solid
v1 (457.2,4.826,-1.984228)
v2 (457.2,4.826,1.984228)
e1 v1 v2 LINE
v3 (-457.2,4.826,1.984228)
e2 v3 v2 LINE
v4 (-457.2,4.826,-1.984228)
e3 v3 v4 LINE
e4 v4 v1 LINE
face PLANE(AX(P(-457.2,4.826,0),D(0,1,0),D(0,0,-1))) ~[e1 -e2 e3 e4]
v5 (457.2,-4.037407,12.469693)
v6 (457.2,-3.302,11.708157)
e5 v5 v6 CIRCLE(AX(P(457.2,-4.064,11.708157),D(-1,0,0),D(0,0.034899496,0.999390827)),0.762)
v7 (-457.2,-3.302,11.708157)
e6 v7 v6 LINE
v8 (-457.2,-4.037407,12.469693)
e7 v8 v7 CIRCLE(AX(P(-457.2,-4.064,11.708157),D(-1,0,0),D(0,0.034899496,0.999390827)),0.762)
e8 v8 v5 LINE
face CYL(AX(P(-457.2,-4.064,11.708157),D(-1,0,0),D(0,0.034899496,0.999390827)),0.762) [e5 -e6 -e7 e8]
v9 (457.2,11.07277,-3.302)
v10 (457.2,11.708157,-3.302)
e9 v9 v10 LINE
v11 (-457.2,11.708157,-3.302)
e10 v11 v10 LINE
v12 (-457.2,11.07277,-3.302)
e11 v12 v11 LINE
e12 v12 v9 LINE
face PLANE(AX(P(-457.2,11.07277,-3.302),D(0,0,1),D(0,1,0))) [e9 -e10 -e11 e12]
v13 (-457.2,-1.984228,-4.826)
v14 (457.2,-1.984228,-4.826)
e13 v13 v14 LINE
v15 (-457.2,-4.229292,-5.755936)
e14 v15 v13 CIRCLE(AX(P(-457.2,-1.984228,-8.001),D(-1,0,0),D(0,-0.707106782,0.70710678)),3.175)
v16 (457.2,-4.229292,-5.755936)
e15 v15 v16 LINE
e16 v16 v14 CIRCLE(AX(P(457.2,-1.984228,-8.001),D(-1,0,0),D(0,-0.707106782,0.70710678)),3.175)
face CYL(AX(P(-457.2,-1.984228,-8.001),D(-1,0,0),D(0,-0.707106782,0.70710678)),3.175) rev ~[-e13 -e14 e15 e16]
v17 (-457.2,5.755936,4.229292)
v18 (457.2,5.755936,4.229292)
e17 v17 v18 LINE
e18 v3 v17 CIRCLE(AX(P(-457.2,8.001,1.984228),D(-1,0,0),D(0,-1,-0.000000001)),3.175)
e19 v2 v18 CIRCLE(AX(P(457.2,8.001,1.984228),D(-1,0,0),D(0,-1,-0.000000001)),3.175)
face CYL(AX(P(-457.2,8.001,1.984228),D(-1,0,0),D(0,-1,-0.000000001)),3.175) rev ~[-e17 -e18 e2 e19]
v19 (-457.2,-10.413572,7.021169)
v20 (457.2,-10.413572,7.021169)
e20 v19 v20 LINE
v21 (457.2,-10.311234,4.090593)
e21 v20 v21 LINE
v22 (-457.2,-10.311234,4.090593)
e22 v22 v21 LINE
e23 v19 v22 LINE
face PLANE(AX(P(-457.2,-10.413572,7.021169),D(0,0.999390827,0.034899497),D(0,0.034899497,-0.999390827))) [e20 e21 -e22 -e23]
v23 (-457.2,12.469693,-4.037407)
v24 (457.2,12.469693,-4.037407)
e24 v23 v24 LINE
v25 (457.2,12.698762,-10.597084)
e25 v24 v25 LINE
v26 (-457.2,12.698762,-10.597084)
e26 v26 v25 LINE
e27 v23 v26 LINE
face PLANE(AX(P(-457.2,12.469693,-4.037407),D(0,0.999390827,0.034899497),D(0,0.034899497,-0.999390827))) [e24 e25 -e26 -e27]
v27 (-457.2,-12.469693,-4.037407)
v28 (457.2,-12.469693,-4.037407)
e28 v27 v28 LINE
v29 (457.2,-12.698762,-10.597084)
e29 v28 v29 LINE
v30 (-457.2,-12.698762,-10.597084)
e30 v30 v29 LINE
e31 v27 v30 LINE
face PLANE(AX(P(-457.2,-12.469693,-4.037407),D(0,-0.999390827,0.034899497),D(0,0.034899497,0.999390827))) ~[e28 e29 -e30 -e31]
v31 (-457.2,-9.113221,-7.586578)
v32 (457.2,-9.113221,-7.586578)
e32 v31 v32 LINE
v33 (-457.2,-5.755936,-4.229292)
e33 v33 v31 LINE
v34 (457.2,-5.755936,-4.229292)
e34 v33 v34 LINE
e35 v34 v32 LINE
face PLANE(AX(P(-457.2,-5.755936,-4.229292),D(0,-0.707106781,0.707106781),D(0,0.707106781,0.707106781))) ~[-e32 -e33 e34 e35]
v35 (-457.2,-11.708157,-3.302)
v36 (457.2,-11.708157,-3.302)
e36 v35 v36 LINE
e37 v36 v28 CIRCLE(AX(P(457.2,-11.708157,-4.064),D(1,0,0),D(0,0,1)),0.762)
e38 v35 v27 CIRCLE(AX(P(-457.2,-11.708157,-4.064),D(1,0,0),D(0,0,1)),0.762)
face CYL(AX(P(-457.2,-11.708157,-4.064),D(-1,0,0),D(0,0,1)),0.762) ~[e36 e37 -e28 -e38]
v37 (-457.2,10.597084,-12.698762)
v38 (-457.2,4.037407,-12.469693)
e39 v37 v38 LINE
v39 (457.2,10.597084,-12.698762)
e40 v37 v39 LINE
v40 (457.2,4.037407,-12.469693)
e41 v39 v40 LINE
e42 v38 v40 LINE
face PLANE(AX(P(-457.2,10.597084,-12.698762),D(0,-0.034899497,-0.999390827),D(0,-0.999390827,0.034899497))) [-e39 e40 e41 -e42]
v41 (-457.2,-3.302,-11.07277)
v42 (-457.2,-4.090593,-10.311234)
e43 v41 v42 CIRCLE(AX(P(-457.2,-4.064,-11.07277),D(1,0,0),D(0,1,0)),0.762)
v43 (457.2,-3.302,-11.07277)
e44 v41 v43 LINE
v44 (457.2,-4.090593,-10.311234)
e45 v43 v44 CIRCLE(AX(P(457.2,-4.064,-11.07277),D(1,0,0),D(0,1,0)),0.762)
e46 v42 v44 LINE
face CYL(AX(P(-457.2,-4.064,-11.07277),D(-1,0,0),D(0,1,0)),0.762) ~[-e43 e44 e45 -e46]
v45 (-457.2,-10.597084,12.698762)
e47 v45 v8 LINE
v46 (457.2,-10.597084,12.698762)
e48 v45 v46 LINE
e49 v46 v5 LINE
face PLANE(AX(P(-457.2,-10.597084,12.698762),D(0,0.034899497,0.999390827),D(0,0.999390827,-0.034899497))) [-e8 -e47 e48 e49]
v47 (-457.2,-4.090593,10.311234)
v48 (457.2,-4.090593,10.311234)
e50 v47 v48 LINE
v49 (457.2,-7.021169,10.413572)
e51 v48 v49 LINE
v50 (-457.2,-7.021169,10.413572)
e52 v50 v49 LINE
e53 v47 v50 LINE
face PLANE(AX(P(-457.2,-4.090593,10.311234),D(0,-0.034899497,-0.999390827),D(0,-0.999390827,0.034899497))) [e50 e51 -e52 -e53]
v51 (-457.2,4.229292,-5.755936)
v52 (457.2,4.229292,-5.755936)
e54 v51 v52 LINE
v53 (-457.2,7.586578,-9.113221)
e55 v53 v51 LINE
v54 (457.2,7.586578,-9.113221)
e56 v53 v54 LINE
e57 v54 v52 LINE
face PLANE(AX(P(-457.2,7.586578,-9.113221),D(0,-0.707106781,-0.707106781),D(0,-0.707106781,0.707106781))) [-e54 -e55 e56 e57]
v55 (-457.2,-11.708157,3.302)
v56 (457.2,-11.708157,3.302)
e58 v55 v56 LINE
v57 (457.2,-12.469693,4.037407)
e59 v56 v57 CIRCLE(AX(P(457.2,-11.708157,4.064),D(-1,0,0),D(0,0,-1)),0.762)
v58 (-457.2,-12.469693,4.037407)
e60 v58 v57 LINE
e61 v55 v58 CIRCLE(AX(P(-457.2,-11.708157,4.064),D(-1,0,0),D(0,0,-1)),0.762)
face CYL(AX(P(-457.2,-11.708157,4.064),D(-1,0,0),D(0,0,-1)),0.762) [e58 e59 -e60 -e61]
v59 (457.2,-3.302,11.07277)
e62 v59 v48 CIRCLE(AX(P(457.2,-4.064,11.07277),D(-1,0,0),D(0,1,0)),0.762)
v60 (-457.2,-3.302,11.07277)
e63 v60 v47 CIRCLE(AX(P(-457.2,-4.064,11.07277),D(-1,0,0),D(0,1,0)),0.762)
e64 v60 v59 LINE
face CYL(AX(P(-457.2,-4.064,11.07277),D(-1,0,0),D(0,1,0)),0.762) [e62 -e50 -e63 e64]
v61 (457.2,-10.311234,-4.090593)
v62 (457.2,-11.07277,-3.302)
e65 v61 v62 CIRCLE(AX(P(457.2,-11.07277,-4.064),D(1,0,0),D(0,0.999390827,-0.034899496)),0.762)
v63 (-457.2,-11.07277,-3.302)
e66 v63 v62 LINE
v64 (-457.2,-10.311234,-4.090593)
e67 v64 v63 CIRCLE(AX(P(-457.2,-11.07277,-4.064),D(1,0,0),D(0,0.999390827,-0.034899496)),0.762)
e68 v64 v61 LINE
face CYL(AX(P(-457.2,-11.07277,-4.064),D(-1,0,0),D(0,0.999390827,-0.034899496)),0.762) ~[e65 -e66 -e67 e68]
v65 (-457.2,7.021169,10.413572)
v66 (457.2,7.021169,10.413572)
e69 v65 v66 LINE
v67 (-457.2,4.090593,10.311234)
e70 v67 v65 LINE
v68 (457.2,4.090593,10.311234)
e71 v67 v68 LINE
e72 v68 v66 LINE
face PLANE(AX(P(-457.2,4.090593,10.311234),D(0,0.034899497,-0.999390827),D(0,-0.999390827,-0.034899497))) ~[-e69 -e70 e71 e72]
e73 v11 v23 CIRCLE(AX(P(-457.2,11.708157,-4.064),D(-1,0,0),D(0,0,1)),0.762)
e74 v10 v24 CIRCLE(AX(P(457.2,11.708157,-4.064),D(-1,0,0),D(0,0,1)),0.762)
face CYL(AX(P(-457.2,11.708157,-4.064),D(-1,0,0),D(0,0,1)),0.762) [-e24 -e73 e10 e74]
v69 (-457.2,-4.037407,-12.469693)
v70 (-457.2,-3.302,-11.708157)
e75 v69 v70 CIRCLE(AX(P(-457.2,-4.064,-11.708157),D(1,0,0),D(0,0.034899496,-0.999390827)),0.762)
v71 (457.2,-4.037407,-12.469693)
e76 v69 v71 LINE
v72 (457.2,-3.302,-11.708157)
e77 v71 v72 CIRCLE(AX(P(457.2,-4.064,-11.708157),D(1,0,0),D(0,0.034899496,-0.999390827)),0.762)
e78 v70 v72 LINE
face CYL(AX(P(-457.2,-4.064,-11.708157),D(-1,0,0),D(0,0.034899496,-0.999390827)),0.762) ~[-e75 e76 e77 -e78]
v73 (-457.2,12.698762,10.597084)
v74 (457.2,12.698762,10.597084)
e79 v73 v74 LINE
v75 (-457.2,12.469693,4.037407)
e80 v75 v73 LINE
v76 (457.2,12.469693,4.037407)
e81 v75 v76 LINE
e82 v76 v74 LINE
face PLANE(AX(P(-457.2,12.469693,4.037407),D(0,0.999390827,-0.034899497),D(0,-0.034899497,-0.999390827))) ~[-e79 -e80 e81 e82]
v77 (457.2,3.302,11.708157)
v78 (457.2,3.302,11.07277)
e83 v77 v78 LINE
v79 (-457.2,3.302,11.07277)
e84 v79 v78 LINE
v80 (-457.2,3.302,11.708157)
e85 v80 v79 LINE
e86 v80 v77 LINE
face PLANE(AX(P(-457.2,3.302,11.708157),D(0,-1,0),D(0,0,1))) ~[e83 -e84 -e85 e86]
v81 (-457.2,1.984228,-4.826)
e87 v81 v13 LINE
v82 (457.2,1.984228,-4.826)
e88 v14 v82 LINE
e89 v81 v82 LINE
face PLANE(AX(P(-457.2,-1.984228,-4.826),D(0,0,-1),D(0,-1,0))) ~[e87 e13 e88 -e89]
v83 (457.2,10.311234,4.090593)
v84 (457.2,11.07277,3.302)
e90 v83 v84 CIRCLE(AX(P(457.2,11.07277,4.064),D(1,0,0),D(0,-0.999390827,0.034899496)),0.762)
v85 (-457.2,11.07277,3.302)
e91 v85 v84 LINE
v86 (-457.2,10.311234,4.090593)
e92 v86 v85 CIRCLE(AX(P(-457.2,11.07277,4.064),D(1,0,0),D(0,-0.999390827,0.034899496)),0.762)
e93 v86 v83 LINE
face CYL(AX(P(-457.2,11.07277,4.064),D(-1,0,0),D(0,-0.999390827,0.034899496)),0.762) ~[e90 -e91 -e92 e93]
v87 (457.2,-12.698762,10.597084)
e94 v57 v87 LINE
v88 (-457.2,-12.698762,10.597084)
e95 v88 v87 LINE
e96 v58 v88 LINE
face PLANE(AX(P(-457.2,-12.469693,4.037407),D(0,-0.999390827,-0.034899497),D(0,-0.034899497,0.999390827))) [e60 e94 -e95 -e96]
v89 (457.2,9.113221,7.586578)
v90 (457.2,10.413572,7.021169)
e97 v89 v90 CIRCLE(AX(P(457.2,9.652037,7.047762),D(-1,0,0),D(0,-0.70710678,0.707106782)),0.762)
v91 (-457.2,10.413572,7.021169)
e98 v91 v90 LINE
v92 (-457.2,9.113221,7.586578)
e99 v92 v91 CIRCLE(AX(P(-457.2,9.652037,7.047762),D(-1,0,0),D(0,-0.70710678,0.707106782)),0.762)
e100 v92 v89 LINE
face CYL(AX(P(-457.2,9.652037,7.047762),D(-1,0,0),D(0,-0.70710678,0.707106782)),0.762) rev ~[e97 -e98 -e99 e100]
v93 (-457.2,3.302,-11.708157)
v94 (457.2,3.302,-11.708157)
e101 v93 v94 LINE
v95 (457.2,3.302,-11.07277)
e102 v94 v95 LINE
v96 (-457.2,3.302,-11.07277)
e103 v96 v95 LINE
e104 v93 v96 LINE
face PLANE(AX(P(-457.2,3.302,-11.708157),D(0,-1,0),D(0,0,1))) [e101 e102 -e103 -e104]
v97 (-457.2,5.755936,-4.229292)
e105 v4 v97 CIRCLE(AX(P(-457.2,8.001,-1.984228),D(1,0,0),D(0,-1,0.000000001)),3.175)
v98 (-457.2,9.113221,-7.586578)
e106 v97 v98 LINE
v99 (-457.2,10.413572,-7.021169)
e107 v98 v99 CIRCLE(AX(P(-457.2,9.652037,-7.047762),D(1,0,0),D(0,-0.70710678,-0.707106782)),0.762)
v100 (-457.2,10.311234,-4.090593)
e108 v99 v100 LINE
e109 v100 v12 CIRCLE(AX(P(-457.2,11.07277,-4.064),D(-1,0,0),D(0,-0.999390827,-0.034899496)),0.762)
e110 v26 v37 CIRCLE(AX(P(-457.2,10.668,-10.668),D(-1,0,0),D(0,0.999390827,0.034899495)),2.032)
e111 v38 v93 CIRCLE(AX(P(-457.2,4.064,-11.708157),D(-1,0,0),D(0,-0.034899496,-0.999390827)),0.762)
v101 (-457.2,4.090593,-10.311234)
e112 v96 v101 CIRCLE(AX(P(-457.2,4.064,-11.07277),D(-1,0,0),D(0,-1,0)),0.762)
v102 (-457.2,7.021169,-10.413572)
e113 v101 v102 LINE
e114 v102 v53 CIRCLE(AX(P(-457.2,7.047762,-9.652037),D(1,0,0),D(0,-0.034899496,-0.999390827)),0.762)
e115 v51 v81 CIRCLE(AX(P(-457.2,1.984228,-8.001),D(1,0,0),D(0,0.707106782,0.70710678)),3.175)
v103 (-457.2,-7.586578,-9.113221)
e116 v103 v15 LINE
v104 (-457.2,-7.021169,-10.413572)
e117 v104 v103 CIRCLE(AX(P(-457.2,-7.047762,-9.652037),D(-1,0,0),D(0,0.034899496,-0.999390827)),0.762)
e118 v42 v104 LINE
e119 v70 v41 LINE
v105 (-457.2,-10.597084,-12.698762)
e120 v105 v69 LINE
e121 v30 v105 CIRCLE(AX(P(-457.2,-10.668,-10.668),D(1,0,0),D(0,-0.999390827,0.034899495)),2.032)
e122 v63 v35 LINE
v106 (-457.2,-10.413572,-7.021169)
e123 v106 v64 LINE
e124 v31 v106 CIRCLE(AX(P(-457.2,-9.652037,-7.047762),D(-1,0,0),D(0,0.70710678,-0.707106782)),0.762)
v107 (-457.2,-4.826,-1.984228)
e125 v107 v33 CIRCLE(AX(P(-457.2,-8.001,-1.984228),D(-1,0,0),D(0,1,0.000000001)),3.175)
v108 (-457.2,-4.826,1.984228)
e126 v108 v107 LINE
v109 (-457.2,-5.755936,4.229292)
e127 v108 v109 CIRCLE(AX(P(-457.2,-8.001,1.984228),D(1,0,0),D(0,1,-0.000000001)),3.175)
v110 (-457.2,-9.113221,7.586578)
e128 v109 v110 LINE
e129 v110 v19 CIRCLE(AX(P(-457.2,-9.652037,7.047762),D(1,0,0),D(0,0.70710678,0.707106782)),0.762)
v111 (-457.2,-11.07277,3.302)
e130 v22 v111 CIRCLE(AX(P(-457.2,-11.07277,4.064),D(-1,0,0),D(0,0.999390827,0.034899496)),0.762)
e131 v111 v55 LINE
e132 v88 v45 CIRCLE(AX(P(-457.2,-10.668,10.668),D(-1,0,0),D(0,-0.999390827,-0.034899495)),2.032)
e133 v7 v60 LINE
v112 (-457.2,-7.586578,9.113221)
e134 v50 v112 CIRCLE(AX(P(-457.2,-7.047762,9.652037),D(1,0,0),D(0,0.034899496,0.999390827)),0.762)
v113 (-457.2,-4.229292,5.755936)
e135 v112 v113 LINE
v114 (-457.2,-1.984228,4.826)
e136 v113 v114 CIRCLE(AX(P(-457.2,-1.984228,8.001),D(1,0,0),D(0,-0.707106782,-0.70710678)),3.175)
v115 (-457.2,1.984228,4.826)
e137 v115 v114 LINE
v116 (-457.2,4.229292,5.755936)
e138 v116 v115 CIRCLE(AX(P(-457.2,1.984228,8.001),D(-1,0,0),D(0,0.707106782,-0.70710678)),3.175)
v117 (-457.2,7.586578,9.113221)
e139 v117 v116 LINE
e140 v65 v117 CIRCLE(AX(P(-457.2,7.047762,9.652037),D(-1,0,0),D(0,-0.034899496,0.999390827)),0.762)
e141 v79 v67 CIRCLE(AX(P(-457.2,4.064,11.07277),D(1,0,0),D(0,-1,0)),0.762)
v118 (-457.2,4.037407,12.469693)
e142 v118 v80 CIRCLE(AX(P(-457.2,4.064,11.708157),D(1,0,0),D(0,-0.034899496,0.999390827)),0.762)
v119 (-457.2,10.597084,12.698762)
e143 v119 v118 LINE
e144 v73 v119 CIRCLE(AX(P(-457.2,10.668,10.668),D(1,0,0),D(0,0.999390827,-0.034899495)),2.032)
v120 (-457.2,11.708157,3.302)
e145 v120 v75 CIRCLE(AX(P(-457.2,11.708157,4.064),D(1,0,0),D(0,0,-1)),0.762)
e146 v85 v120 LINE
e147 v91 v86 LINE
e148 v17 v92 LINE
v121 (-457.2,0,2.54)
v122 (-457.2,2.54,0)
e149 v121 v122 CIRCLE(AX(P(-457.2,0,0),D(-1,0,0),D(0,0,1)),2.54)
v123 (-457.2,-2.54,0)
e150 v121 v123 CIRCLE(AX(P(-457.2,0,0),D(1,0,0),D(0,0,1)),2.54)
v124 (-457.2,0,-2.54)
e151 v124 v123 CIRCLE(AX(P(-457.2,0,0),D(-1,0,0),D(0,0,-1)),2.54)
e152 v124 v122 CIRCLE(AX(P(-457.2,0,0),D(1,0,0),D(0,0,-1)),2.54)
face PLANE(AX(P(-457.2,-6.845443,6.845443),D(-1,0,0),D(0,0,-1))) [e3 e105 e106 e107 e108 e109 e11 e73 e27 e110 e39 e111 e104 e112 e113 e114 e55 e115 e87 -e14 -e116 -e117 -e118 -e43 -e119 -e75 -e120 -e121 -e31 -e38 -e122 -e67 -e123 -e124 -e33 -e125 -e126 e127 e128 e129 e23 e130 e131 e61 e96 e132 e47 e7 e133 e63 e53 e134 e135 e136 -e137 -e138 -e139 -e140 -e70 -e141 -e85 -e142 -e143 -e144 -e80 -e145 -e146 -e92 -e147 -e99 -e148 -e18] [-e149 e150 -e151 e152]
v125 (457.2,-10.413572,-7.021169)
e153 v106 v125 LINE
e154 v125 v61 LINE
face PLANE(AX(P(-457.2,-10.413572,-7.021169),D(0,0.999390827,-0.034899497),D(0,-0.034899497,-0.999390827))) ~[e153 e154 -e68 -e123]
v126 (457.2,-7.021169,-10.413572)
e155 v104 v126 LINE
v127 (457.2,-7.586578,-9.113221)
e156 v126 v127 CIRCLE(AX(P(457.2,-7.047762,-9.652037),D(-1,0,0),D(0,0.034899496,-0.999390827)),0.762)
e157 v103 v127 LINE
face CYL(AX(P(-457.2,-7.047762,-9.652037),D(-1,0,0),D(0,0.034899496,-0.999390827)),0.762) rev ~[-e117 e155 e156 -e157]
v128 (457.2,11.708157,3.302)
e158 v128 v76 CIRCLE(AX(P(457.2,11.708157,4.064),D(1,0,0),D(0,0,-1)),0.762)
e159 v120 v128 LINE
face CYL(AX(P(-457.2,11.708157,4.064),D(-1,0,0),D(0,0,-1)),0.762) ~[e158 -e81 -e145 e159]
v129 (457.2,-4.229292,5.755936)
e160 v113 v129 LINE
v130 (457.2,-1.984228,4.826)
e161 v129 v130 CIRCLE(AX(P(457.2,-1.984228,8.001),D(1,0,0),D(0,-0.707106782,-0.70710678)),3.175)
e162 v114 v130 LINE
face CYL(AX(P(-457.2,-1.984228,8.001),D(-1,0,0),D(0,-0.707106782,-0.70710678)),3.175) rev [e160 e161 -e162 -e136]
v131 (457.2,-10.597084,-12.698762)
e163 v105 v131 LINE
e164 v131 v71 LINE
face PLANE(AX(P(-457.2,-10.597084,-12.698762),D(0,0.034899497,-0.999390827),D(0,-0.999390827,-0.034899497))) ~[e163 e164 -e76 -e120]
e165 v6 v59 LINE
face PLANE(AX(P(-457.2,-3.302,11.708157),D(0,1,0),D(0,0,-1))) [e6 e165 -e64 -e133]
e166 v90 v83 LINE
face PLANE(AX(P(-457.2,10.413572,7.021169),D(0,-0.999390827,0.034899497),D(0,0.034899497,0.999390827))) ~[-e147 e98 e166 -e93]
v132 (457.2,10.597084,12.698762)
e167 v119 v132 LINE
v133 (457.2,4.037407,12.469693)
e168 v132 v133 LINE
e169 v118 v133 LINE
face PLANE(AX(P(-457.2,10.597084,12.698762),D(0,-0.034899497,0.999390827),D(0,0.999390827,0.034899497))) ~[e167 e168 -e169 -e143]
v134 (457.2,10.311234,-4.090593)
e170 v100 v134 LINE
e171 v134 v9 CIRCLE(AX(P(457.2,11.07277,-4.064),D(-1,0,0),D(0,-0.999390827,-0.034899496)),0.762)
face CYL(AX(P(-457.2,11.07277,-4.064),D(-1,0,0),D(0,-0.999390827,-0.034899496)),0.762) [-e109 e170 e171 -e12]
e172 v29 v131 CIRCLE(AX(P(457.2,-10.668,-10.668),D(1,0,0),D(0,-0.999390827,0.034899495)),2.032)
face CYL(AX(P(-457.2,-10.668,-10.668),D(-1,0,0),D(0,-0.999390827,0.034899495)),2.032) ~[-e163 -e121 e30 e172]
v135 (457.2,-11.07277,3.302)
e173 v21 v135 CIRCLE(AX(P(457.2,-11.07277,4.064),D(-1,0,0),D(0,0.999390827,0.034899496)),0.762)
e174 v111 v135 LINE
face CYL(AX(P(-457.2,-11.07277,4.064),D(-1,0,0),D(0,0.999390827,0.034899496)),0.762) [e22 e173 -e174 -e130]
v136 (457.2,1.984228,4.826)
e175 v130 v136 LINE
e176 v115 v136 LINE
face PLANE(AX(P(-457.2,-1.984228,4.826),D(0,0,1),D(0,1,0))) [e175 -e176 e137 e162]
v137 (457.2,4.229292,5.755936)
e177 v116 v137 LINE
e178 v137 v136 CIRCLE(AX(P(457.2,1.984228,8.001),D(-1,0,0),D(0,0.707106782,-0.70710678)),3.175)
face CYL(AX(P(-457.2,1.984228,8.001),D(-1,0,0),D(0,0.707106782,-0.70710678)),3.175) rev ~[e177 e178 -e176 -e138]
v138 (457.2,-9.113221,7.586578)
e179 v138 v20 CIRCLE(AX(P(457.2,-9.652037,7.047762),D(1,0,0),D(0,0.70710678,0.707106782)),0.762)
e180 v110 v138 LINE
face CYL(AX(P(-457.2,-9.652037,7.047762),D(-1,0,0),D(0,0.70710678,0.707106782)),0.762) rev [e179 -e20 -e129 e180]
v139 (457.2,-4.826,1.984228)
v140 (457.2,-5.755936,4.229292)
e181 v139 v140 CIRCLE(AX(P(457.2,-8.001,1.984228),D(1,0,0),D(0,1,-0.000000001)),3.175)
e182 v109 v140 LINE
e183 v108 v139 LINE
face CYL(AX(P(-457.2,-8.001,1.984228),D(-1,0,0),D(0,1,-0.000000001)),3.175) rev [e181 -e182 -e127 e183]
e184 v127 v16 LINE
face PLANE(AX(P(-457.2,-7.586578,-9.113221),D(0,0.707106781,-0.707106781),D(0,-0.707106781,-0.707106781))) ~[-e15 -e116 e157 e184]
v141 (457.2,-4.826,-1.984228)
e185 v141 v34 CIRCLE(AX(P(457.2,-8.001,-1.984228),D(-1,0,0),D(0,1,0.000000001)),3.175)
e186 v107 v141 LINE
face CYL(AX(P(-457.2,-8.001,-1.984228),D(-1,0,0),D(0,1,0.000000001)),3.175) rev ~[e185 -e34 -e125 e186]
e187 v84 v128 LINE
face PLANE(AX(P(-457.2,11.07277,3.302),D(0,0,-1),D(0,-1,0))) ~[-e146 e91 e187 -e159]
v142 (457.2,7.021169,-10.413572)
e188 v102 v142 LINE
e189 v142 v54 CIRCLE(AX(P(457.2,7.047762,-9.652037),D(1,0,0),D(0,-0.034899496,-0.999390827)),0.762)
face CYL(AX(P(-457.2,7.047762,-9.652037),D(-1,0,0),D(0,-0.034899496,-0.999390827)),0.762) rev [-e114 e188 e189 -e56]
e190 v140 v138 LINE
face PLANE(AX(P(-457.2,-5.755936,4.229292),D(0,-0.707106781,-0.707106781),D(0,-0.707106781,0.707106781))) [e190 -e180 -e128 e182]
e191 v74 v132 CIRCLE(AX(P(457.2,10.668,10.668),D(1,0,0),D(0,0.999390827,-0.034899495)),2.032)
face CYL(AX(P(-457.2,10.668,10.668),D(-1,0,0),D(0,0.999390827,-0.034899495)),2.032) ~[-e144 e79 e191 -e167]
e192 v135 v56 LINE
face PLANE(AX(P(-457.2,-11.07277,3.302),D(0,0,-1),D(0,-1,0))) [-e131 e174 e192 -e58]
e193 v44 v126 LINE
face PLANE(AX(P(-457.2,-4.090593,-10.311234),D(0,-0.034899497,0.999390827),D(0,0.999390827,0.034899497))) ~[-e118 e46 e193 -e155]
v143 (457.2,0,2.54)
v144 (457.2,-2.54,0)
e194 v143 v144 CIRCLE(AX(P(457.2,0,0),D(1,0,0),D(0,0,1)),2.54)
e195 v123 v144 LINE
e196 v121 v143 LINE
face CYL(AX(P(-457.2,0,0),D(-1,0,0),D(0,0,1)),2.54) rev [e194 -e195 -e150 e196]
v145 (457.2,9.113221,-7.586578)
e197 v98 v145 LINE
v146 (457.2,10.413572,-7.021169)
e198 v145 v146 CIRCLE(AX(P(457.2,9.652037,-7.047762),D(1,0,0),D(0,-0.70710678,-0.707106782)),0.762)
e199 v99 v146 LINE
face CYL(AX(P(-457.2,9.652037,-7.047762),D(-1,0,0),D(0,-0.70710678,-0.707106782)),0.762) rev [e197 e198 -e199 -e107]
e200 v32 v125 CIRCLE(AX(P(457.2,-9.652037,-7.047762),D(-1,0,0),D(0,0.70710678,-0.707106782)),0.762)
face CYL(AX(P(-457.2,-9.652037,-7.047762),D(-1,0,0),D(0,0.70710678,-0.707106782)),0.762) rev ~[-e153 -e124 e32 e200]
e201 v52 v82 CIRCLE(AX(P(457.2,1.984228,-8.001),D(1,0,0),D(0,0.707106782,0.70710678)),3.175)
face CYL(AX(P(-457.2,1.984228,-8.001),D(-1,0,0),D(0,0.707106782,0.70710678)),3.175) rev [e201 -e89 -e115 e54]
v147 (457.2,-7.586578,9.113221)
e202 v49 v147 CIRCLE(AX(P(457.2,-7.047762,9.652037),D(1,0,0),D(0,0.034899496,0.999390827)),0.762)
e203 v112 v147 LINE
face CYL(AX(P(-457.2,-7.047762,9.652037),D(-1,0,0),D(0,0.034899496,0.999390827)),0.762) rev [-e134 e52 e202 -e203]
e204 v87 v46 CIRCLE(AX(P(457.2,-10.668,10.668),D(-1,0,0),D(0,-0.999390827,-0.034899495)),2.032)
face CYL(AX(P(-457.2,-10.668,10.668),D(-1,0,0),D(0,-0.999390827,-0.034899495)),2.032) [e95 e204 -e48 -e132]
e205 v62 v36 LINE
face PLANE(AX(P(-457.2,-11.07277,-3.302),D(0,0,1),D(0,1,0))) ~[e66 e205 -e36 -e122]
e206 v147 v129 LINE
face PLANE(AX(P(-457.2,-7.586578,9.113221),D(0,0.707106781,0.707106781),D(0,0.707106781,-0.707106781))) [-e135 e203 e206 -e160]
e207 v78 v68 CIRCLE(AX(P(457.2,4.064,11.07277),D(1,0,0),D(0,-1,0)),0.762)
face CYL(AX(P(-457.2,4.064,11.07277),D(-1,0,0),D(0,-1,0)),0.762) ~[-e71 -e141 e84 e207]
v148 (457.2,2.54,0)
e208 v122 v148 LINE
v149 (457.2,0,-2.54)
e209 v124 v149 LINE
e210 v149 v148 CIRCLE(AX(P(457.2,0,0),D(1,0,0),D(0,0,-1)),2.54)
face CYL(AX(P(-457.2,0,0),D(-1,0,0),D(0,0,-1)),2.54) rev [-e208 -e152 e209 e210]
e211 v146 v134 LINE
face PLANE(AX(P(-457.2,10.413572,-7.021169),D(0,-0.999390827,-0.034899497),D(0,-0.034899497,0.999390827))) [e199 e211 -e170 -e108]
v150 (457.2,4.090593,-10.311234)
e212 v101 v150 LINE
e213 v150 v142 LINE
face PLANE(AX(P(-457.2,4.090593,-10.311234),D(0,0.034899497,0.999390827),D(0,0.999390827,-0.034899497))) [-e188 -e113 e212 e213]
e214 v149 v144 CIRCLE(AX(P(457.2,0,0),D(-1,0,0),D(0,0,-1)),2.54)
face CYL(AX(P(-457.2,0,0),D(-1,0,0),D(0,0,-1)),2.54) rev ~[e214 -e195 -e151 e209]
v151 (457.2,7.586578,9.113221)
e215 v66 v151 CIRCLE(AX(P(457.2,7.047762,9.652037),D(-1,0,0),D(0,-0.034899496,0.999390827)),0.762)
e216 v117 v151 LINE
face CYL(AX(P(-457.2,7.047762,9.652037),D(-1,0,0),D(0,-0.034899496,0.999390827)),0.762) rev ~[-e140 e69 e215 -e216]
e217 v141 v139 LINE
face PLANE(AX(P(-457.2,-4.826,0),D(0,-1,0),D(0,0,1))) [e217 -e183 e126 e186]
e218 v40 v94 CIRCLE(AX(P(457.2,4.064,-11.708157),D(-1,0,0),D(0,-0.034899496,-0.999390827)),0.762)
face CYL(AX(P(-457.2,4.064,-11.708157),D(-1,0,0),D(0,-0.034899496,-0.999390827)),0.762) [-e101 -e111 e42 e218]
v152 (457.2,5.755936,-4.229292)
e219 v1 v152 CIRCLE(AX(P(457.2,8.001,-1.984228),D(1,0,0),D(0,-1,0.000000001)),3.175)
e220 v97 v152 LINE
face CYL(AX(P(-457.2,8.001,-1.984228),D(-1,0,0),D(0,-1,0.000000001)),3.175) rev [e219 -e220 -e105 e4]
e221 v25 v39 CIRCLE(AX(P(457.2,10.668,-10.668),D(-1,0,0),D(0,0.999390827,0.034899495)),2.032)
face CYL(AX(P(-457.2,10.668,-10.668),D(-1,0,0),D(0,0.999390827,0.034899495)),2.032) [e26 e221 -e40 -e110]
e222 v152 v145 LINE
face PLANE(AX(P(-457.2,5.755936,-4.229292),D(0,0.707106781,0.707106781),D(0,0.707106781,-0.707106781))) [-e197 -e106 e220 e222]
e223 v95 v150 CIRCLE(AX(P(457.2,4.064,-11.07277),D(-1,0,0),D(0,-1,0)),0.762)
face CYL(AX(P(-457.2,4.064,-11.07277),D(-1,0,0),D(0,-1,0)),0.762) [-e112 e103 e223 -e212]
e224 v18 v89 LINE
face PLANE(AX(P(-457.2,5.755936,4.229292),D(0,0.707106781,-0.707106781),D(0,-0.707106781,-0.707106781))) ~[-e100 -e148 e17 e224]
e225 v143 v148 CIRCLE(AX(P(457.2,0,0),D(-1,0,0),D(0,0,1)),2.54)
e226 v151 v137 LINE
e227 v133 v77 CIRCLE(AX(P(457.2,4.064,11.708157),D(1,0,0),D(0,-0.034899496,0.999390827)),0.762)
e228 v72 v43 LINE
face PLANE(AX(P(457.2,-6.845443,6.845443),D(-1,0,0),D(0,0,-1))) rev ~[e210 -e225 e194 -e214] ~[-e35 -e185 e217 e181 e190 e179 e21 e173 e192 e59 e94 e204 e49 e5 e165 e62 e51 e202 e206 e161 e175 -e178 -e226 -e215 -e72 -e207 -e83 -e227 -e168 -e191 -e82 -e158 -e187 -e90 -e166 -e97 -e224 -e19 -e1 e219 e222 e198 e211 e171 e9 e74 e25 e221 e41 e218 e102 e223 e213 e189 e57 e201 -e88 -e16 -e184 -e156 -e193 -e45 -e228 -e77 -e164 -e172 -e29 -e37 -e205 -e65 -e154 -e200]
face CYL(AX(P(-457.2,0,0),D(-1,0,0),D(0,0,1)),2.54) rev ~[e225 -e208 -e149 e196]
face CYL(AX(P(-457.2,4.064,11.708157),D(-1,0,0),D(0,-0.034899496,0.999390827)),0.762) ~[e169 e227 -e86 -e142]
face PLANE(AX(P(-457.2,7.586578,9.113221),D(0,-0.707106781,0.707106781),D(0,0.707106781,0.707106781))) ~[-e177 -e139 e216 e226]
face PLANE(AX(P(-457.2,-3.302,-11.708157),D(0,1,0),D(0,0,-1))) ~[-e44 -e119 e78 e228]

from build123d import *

# Parameters (mm, degrees)
BOSS_EXTRUDE1_DEPTH      = 457.2
BOSS_EXTRUDE1_DEPTH_BACK = 457.2


with BuildPart() as part:
    # Sketch3 → Boss-Extrude1 (new, two sides: drawn at the far end of the back side and taken through both)
    with BuildSketch(Plane(origin=(0, 0, 0), x_dir=(0, 0, -1), z_dir=(1, 0, 0)).offset(-BOSS_EXTRUDE1_DEPTH_BACK)):
        with BuildLine():
            Line((0, 4.826), (1.984228399, 4.826))
            ThreePointArc((1.984228399, 4.826), (3.199248297, 5.067682484), (4.229292429, 5.75593597))
            Line((4.229292429, 5.75593597), (7.586577723, 9.113221264))
            ThreePointArc((7.586577723, 9.113221264), (7.746562132, 9.955883421), (7.021168939, 10.413572441))
            Line((7.021168939, 10.413572441), (4.090593416, 10.311234489))
            ThreePointArc((4.090593416, 10.311234489), (3.534670322, 10.524633371), (3.302, 11.072770299))
            Line((3.302, 11.072770299), (3.302, 11.70815736))
            ThreePointArc((3.302, 11.70815736), (3.515863072, 12.237487038), (4.037406584, 12.46969317))
            Line((4.037406584, 12.46969317), (10.597084223, 12.698762161))
            ThreePointArc((10.597084223, 12.698762161), (12.104840979, 12.104840979), (12.698762161, 10.597084223))
            Line((12.698762161, 10.597084223), (12.46969317, 4.037406584))
            ThreePointArc((12.46969317, 4.037406584), (12.237487038, 3.515863072), (11.70815736, 3.302))
            Line((11.70815736, 3.302), (11.072770299, 3.302))
            ThreePointArc((11.072770299, 3.302), (10.524633371, 3.534670322), (10.311234489, 4.090593416))
            Line((10.311234489, 4.090593416), (10.413572441, 7.021168939))
            ThreePointArc((10.413572441, 7.021168939), (9.955883421, 7.746562132), (9.113221264, 7.586577723))
            Line((9.113221264, 7.586577723), (5.75593597, 4.229292429))
            ThreePointArc((5.75593597, 4.229292429), (5.067682484, 3.199248297), (4.826, 1.984228399))
            Line((4.826, 1.984228399), (4.826, 0))
            Line((4.826, 0), (2.54, 0))
            ThreePointArc((2.54, 0), (1.796051224, 1.796051224), (0, 2.54))
            Line((0, 2.54), (0, 4.826))
        make_face()
    extrude(amount=BOSS_EXTRUDE1_DEPTH + BOSS_EXTRUDE1_DEPTH_BACK)

    # Mirror1: part across plane


with BuildPart() as part_1:
    add(part.part)
    add(part.part.mirror(Plane.ZX))

    # Mirror2: part across plane


with BuildPart() as part_2:
    add(part_1.part)
    add(part_1.part.mirror(Plane.XY))


solid = part_2.part
